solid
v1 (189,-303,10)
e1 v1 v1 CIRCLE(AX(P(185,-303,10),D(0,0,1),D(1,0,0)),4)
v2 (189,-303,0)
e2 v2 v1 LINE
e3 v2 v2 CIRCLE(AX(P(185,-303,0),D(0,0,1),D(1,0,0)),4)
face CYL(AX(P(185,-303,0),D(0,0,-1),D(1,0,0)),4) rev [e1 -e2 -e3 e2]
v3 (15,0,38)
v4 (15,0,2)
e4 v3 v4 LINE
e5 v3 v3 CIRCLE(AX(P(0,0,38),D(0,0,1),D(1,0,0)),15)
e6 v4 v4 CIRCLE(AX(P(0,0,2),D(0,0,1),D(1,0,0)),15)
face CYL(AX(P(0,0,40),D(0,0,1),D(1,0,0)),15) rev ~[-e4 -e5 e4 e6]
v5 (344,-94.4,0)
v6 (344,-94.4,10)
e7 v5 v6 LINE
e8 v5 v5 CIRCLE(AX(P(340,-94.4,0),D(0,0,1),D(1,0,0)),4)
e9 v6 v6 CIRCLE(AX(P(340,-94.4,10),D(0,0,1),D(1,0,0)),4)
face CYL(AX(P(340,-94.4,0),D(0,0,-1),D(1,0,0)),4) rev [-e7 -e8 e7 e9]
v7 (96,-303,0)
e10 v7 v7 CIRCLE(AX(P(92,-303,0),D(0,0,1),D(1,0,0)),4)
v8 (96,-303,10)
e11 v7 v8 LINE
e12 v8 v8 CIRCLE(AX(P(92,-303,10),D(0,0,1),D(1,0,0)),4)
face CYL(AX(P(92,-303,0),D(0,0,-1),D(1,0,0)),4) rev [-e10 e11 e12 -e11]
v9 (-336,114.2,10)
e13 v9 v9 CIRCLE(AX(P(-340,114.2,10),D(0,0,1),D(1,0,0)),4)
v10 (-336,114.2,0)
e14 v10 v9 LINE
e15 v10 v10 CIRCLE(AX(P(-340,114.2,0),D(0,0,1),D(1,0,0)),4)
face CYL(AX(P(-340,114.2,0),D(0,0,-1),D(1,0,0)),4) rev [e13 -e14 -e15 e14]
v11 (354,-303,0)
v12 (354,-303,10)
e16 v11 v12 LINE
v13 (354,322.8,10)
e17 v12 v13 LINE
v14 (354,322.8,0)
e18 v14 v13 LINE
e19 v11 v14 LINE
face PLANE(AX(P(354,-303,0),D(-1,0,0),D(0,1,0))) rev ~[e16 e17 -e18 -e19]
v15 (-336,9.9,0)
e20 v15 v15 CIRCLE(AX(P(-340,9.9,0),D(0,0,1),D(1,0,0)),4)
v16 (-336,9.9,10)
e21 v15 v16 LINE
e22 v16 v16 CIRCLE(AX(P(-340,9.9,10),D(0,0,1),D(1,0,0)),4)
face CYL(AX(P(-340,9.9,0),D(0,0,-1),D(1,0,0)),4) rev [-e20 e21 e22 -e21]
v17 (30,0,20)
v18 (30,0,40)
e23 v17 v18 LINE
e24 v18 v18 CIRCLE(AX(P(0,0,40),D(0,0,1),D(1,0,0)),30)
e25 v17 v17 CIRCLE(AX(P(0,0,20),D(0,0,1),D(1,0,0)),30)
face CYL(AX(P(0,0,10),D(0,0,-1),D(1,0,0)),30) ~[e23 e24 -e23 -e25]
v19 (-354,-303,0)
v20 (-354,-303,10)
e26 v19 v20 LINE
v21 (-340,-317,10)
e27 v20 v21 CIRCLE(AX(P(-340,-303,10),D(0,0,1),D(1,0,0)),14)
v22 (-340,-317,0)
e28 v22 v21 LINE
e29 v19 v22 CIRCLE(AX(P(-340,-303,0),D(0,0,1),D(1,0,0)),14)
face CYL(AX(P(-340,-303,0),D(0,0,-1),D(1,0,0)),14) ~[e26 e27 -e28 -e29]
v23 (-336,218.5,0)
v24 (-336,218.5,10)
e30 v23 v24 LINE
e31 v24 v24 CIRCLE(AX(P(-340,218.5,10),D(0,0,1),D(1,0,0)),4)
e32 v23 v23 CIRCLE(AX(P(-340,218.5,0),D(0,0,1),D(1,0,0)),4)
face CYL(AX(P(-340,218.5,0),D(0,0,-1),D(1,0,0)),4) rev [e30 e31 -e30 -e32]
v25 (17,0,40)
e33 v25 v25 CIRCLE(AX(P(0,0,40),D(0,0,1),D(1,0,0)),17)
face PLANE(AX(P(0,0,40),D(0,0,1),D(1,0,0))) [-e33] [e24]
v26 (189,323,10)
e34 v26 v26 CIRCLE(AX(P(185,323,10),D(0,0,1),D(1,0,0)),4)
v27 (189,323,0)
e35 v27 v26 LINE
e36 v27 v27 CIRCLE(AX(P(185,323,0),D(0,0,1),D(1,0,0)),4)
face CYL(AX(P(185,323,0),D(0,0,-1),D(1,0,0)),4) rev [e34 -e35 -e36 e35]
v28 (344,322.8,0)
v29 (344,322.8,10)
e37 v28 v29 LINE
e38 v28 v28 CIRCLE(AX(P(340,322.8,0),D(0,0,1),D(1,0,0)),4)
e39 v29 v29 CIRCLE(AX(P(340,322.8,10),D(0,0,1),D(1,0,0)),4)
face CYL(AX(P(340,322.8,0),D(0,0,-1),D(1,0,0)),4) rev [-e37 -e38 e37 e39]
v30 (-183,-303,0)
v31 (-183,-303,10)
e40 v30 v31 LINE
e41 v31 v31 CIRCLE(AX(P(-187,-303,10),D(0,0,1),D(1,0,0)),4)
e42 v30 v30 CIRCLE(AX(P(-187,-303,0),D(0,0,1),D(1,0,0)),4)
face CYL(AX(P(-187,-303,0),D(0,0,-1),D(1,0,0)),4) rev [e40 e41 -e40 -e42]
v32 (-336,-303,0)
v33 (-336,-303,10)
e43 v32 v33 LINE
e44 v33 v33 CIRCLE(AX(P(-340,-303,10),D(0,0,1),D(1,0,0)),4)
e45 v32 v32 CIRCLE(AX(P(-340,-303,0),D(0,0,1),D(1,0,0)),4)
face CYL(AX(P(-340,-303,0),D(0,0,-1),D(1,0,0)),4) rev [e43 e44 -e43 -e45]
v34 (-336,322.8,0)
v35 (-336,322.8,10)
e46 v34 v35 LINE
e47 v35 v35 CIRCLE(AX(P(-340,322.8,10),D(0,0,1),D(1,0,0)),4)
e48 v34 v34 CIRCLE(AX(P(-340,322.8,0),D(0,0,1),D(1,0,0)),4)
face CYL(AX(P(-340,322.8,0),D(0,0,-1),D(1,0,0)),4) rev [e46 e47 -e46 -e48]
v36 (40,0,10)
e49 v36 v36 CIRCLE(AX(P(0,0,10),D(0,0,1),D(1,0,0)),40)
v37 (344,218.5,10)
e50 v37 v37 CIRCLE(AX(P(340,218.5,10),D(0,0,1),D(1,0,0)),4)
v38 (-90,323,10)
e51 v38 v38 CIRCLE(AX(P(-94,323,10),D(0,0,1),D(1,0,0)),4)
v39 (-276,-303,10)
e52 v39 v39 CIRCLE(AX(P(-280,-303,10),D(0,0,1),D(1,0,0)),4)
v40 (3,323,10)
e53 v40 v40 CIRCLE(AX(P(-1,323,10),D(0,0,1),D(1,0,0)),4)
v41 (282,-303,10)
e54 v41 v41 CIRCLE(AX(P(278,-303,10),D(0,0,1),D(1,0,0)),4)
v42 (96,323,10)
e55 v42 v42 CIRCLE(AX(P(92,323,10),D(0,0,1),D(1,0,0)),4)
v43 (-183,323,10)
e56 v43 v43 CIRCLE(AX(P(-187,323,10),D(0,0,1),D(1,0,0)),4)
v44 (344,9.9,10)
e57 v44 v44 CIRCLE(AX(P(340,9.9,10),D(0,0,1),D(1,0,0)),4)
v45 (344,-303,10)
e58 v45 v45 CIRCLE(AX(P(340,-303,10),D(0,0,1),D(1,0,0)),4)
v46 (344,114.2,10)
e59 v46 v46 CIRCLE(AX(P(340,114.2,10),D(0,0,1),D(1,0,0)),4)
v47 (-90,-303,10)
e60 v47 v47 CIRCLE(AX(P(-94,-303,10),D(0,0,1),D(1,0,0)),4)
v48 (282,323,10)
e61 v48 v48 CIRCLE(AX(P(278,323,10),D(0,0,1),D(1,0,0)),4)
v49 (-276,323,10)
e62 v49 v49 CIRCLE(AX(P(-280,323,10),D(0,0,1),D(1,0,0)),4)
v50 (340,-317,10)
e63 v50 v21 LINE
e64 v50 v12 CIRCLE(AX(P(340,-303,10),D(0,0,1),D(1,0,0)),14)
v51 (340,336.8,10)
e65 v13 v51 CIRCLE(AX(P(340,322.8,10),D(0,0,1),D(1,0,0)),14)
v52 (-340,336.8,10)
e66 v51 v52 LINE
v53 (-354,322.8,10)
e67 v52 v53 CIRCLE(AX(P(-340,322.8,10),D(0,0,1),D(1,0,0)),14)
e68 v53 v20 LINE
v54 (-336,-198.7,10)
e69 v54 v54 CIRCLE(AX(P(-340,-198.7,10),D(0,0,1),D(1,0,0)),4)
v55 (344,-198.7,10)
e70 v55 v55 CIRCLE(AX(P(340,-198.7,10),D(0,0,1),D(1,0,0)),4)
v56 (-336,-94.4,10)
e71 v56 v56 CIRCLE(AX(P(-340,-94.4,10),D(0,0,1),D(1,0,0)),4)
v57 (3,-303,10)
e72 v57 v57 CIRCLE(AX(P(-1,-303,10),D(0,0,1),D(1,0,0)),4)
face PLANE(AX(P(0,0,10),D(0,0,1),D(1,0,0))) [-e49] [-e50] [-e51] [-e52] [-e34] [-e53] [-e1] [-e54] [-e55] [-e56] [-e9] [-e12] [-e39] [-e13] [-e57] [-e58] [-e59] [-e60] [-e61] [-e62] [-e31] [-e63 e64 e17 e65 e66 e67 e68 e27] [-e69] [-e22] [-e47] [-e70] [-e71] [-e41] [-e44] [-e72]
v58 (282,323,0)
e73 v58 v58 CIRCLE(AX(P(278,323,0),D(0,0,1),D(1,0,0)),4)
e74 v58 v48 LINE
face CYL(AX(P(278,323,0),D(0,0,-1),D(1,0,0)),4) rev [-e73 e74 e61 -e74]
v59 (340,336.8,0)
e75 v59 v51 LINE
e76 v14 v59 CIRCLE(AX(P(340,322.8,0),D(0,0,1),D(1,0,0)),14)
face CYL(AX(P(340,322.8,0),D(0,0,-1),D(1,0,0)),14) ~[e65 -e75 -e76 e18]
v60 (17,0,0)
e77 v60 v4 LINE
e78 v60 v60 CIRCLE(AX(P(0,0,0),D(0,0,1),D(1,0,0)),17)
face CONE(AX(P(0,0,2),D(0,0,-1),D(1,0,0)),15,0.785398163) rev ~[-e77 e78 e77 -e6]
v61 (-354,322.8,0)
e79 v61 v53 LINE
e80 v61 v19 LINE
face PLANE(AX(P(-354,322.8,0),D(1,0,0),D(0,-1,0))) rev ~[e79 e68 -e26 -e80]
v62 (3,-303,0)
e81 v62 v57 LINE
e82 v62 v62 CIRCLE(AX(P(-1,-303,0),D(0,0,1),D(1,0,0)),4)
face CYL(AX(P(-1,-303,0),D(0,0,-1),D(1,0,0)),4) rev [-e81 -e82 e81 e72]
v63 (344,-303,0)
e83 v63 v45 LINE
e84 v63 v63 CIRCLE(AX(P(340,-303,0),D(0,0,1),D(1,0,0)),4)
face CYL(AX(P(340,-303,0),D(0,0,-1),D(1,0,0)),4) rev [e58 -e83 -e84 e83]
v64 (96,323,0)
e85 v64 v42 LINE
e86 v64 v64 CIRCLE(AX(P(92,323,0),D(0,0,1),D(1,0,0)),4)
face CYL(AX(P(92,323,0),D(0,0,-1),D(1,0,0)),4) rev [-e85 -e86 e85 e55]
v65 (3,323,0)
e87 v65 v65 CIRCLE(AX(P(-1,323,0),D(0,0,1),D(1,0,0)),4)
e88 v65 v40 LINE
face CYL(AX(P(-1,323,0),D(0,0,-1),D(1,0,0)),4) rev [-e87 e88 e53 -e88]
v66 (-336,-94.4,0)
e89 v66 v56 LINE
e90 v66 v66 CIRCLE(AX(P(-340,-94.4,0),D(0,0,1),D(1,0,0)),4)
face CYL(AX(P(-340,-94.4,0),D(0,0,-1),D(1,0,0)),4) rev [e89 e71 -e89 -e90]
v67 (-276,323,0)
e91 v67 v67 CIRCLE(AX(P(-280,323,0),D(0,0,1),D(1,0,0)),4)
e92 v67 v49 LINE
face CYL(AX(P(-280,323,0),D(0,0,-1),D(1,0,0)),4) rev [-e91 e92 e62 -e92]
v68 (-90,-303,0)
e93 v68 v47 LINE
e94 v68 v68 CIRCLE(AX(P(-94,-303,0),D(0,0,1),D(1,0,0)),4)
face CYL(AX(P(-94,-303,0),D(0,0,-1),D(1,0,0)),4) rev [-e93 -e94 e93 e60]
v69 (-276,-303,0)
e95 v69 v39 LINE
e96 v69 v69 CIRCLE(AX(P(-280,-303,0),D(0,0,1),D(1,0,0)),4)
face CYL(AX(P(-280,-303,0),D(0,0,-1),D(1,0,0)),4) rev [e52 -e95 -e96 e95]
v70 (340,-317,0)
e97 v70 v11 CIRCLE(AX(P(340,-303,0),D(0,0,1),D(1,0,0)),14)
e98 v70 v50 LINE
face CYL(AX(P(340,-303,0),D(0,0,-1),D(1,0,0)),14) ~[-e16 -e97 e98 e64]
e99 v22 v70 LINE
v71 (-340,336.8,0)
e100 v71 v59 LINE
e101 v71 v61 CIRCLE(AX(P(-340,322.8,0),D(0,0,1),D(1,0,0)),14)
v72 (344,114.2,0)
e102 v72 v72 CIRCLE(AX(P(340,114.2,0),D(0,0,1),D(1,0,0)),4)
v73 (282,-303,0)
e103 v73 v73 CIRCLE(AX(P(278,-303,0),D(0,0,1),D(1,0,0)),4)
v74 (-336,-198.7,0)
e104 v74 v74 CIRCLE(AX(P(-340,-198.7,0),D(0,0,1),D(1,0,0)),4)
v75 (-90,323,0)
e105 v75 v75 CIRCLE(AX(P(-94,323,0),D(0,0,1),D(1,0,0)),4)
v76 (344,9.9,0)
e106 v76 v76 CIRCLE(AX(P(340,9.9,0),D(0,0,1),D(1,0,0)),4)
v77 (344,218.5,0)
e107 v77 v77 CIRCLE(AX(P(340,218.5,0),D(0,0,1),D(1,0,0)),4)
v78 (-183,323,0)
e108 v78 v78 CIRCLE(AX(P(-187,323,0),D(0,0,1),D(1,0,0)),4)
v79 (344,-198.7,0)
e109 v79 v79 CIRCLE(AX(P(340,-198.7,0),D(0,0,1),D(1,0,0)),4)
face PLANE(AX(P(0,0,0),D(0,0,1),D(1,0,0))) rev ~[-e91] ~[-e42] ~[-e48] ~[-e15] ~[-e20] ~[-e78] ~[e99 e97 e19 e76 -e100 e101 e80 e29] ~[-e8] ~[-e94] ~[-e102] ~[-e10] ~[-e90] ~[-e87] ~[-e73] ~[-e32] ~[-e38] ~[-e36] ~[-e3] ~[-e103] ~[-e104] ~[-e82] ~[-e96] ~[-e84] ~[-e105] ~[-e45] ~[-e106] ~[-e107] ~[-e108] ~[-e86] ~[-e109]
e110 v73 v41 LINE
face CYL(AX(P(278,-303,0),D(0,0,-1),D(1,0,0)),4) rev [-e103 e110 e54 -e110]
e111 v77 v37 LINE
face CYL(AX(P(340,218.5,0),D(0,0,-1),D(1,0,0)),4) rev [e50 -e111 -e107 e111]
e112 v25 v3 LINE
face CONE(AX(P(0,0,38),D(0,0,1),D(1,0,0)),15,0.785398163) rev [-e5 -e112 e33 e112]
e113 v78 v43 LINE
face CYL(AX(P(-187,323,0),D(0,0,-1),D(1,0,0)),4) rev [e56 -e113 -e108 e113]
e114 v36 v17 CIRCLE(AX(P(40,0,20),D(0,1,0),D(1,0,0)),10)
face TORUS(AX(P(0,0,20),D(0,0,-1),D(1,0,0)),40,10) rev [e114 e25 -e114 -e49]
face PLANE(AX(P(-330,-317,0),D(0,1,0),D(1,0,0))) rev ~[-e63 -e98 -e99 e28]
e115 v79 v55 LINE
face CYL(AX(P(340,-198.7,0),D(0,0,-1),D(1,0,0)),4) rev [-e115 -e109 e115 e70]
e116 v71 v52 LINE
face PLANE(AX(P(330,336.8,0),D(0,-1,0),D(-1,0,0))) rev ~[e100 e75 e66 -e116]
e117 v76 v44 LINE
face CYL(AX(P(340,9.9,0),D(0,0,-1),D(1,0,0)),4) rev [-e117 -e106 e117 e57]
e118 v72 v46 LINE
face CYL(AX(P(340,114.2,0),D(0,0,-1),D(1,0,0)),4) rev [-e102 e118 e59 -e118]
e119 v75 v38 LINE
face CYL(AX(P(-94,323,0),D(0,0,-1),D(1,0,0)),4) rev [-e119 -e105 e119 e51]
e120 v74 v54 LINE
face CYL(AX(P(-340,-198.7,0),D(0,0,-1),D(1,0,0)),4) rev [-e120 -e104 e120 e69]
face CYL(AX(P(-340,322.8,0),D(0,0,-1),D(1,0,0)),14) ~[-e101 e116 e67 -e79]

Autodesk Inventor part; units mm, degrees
ref_plane "YZ Plane" through (0, 0, 0) normal (1, 0, 0) x (0, 1, 0)
ref_plane "XZ Plane" through (0, 0, 0) normal (0, 1, 0) x (-1, 0, 0)
ref_plane "XY Plane" through (0, 0, 0) normal (0, 0, 1) x (1, 0, 0)
ref_plane "РабПлоскость1" through (0, 0, 0) normal (0, 0, 1) x (1, 0, 0)
sketch "Эскиз1" plane through (0, 0, 0) normal (0, 0, 1) x (1, 0, 0)
  circle A0 centre (340, 472) radius 4 projected
  circle A1 centre (340, 367) radius 4 projected
  circle A2 centre (340, 322.8) radius 4 projected
  circle A3 centre (340, 218.5) radius 4 projected
  circle A4 centre (340, 114.2) radius 4 projected
  circle A5 centre (340, 9.9) radius 4 projected
  circle A6 centre (340, -94.4) radius 4 projected
  circle A7 centre (340, -198.7) radius 4 projected
  circle A8 centre (340, -303) radius 4 projected
  circle A9 centre (340, -347) radius 4 projected
  circle A10 centre (340, -407) radius 4 projected
  circle A11 centre (340, -467) radius 4 projected
  circle A12 centre (278, 472) radius 4 projected
  circle A13 centre (185, 472) radius 4 projected
  circle A14 centre (92, 472) radius 4 projected
  circle A15 centre (-1, 472) radius 4 projected
  circle A16 centre (-94, 472) radius 4 projected
  circle A17 centre (-187, 472) radius 4 projected
  circle A18 centre (-280, 472) radius 4 projected
  circle A19 centre (-340, 472) radius 4 projected
  circle A20 centre (-340, 367) radius 4 projected
  circle A21 centre (-340, 322.8) radius 4 projected
  circle A22 centre (-340, 218.5) radius 4 projected
  circle A23 centre (-340, 114.2) radius 4 projected
  circle A24 centre (-340, 9.9) radius 4 projected
  circle A25 centre (-340, -94.4) radius 4 projected
  circle A26 centre (-340, -198.7) radius 4 projected
  circle A27 centre (-340, -303) radius 4 projected
  circle A28 centre (-340, -347) radius 4 projected
  circle A29 centre (-340, -407) radius 4 projected
  circle A30 centre (-340, -467) radius 4 projected
  line L0 (165, -460) -> (165, -485) projected
  line L1 (185, -485) -> (165, -485) projected
  line L2 (185, -475) -> (185, -485) projected
  line L3 (185, -475) -> (380, -475) projected
  line L4 (380, 475) -> (350, 475) projected
  line L5 (350, 475) -> (350, 485) projected
  line L6 (-350, 485) -> (350, 485) projected
  line L7 (-350, 475) -> (-350, 485) projected
  line L8 (-350, 475) -> (-380, 475) projected
  line L9 (-380, -475) -> (-185, -475) projected
  line L10 (-185, -475) -> (-185, -485) projected
  line L11 (-165, -485) -> (-185, -485) projected
  line L12 (-165, -485) -> (-165, -460) projected
  line L13 (-165, -460) -> (-330, -460) projected
  line L14 (-330, 460) -> (-330, -460) projected
  line L15 (-330, 460) -> (330, 460) projected
  line L16 (330, -460) -> (330, 460) projected
  line L17 (330, -460) -> (165, -460) projected
  circle A31 centre (278, -303) radius 4 projected
  circle A32 centre (185, -303) radius 4 projected
  circle A33 centre (92, -303) radius 4 projected
  circle A34 centre (-1, -303) radius 4 projected
  circle A35 centre (-94, -303) radius 4 projected
  circle A36 centre (-187, -303) radius 4 projected
  circle A37 centre (-280, -303) radius 4 projected
  circle A38 centre (278, -347) radius 4 projected
  circle A39 centre (185, -347) radius 4 projected
  circle A40 centre (92, -347) radius 4 projected
  circle A41 centre (-1, -347) radius 4 projected
  circle A42 centre (-94, -347) radius 4 projected
  circle A43 centre (-187, -347) radius 4 projected
  circle A44 centre (-280, -347) radius 4 projected
  line L18 (-330, -291) -> (-330, -359) projected
  line L19 (-330, -359) -> (330, -359) projected
  line L20 (330, -291) -> (330, -359) projected
  line L21 (-330, -291) -> (330, -291) projected
  circle A45 centre (278, 367) radius 4 projected
  circle A46 centre (185, 367) radius 4 projected
  circle A47 centre (92, 367) radius 4 projected
  circle A48 centre (-1, 367) radius 4 projected
  circle A49 centre (-94, 367) radius 4 projected
  circle A50 centre (-187, 367) radius 4 projected
  circle A51 centre (-280, 367) radius 4 projected
  circle A52 centre (278, 323) radius 4 projected
  circle A53 centre (185, 323) radius 4 projected
  circle A54 centre (92, 323) radius 4 projected
  circle A55 centre (-1, 323) radius 4 projected
  circle A56 centre (-94, 323) radius 4 projected
  circle A57 centre (-187, 323) radius 4 projected
  circle A58 centre (-280, 323) radius 4 projected
  line L22 (-330, 379) -> (-330, 311) projected
  line L23 (-330, 311) -> (330, 311) projected
  line L24 (330, 379) -> (330, 311) projected
  line L25 (-330, 379) -> (330, 379) projected
  circle A59 centre (-340, 322.8) radius 14
  circle A60 centre (-340, -303) radius 14
  circle A61 centre (340, -303) radius 14
  circle A62 centre (340, 322.8) radius 14
  line L26 (340, 336.8) -> (-340, 336.8)
  line L27 (-354, 322.8) -> (-354, -303)
  line L28 (-340, -317) -> (340, -317)
  line L29 (354, -303) -> (354, 322.8)
  spline S0 degree 3 poles (-370, 316.7157) (-371.226, 316.7157) (-372.452, 316.5956) (-375.5798, 315.9798) (-377.4441, 315.3011) (-379.4493, 314.2131) (-379.7267, 314.0539) (-380, 313.8881) knots 25.431649 25.431649 25.431649 25.431649 25.799448 25.799448 26.387926 26.387926 26.483827 26.483827 26.483827 26.483827 projected
  spline S1 degree 3 poles (-360, 299.3952) (-360, 300.6696) (-360.1945, 302.0462) (-360.9458, 304.7063) (-361.4997, 305.9906) (-363.0323, 308.8381) (-364.2894, 310.5672) (-367.0866, 313.808) (-368.6145, 315.3302) (-370, 316.7157) knots 0 0 0 0 0.382316 0.382316 0.764632 0.764632 1.352446 1.352446 1.94026 1.94026 1.94026 1.94026 projected
  line L30 (-360, 299.3952) -> (-360, 277.9108) projected
  spline S2 degree 3 poles (-370, 260.5903) (-368.6145, 261.9758) (-367.0866, 263.498) (-364.2894, 266.7388) (-363.0323, 268.4679) (-361.4997, 271.3154) (-360.9458, 272.5997) (-360.1945, 275.2598) (-360, 276.6364) (-360, 277.9108) knots 5.055322 5.055322 5.055322 5.055322 5.643136 5.643136 6.230951 6.230951 6.613267 6.613267 6.995583 6.995583 6.995583 6.995583 projected
  spline S3 degree 3 poles (-380, 263.2891) (-378.6731, 262.5173) (-377.2567, 261.8994) (-373.9153, 260.8819) (-371.9577, 260.5903) (-370, 260.5903) knots 11.600008 11.600008 11.600008 11.600008 12.060517 12.060517 12.64782 12.64782 12.64782 12.64782 projected
  line L31 (-380, 263.2891) -> (-380, -243.2891) projected
  spline S4 degree 3 poles (-370, -240.5903) (-371.2894, -240.5903) (-372.5789, -240.7163) (-375.8683, -241.3651) (-377.8293, -242.082) (-379.7569, -243.1494) (-379.8788, -243.2186) (-380, -243.2891) knots 12.64782 12.64782 12.64782 12.64782 13.034648 13.034648 13.653574 13.653574 13.695631 13.695631 13.695631 13.695631 projected
  spline S5 degree 3 poles (-360, -257.9108) (-360, -256.6364) (-360.1945, -255.2598) (-360.9458, -252.5997) (-361.4997, -251.3154) (-363.0323, -248.4679) (-364.2894, -246.7388) (-367.0866, -243.498) (-368.6145, -241.9758) (-370, -240.5903) knots 0 0 0 0 0.382316 0.382316 0.764632 0.764632 1.352446 1.352446 1.94026 1.94026 1.94026 1.94026 projected
  line L32 (-360, -257.9108) -> (-360, -279.3952) projected
  spline S6 degree 3 poles (-370, -296.7157) (-368.6145, -295.3302) (-367.0866, -293.808) (-364.2894, -290.5672) (-363.0323, -288.8381) (-361.4997, -285.9906) (-360.9458, -284.7063) (-360.1945, -282.0462) (-360, -280.6696) (-360, -279.3952) knots 5.055322 5.055322 5.055322 5.055322 5.643136 5.643136 6.230951 6.230951 6.613267 6.613267 6.995583 6.995583 6.995583 6.995583 projected
  spline S7 degree 3 poles (-380, -293.8881) (-379.7267, -294.0539) (-379.4493, -294.2131) (-377.4441, -295.3011) (-375.5798, -295.9798) (-372.452, -296.5956) (-371.226, -296.7157) (-370, -296.7157) knots -1.052177 -1.052177 -1.052177 -1.052177 -0.956277 -0.956277 -0.367799 -0.367799 0 0 0 0 projected
  line L33 (-380, -293.8881) -> (-380, -356.1119) projected
  spline S8 degree 3 poles (-370, -353.2843) (-371.226, -353.2843) (-372.452, -353.4044) (-375.5798, -354.0202) (-377.4441, -354.6989) (-379.4493, -355.7869) (-379.7267, -355.9461) (-380, -356.1119) knots 12.715825 12.715825 12.715825 12.715825 13.083623 13.083623 13.672101 13.672101 13.768002 13.768002 13.768002 13.768002 projected
  spline S9 degree 3 poles (-360, -370.6048) (-360, -369.3304) (-360.1945, -367.9538) (-360.9458, -365.2937) (-361.4997, -364.0094) (-363.0323, -361.1619) (-364.2894, -359.4328) (-367.0866, -356.192) (-368.6145, -354.6698) (-370, -353.2843) knots 0 0 0 0 0.382316 0.382316 0.764632 0.764632 1.352446 1.352446 1.94026 1.94026 1.94026 1.94026 projected
  line L34 (-360, -370.6048) -> (-360, -392.0892) projected
  spline S10 degree 3 poles (-370, -409.4097) (-368.6145, -408.0242) (-367.0866, -406.502) (-364.2894, -403.2612) (-363.0323, -401.5321) (-361.4997, -398.6846) (-360.9458, -397.4003) (-360.1945, -394.7402) (-360, -393.3636) (-360, -392.0892) knots 5.055322 5.055322 5.055322 5.055322 5.643136 5.643136 6.230951 6.230951 6.613267 6.613267 6.995583 6.995583 6.995583 6.995583 projected
  spline S11 degree 3 poles (-380, -406.7109) (-379.8788, -406.7814) (-379.7569, -406.8506) (-377.8293, -407.918) (-375.8683, -408.6349) (-372.5789, -409.2837) (-371.2894, -409.4097) (-370, -409.4097) knots -1.047812 -1.047812 -1.047812 -1.047812 -1.005754 -1.005754 -0.386829 -0.386829 0 0 0 0 projected
  line L35 (-380, -406.7109) -> (-380, -475) projected
  line L36 (380, -475) -> (380, -406.7109) projected
  spline S12 degree 3 poles (370, -409.4097) (371.2894, -409.4097) (372.5789, -409.2837) (375.8683, -408.6349) (377.8293, -407.918) (379.7569, -406.8506) (379.8788, -406.7814) (380, -406.7109) knots 12.64782 12.64782 12.64782 12.64782 13.034648 13.034648 13.653574 13.653574 13.695631 13.695631 13.695631 13.695631 projected
  spline S13 degree 3 poles (360, -392.0892) (360, -393.3636) (360.1945, -394.7402) (360.9458, -397.4003) (361.4997, -398.6846) (363.0323, -401.5321) (364.2894, -403.2612) (367.0866, -406.502) (368.6145, -408.0242) (370, -409.4097) knots 0 0 0 0 0.382316 0.382316 0.764632 0.764632 1.352446 1.352446 1.94026 1.94026 1.94026 1.94026 projected
  line L37 (360, -392.0892) -> (360, -370.6048) projected
  spline S14 degree 3 poles (370, -353.2843) (368.6145, -354.6698) (367.0866, -356.192) (364.2894, -359.4328) (363.0323, -361.1619) (361.4997, -364.0094) (360.9458, -365.2937) (360.1945, -367.9538) (360, -369.3304) (360, -370.6048) knots 5.055322 5.055322 5.055322 5.055322 5.643136 5.643136 6.230951 6.230951 6.613267 6.613267 6.995583 6.995583 6.995583 6.995583 projected
  spline S15 degree 3 poles (380, -356.1119) (378.2451, -355.0477) (376.3252, -354.255) (372.9103, -353.4538) (371.4552, -353.2843) (370, -353.2843) knots -1.052177 -1.052177 -1.052177 -1.052177 -0.436564 -0.436564 0 0 0 0 projected
  line L38 (380, -356.1119) -> (380, -293.8881) projected
  spline S16 degree 3 poles (370, -296.7157) (371.226, -296.7157) (372.452, -296.5956) (375.5798, -295.9798) (377.4441, -295.3011) (379.4493, -294.2131) (379.7267, -294.0539) (380, -293.8881) knots 12.715825 12.715825 12.715825 12.715825 13.083623 13.083623 13.672101 13.672101 13.768002 13.768002 13.768002 13.768002 projected
  spline S17 degree 3 poles (360, -279.3952) (360, -280.6696) (360.1945, -282.0462) (360.9458, -284.7063) (361.4997, -285.9906) (363.0323, -288.8381) (364.2894, -290.5672) (367.0866, -293.808) (368.6145, -295.3302) (370, -296.7157) knots 0 0 0 0 0.382316 0.382316 0.764632 0.764632 1.352446 1.352446 1.94026 1.94026 1.94026 1.94026 projected
  line L39 (360, -279.3952) -> (360, -257.9108) projected
  spline S18 degree 3 poles (370, -240.5903) (368.6145, -241.9758) (367.0866, -243.498) (364.2894, -246.7388) (363.0323, -248.4679) (361.4997, -251.3154) (360.9458, -252.5997) (360.1945, -255.2598) (360, -256.6364) (360, -257.9108) knots 5.055322 5.055322 5.055322 5.055322 5.643136 5.643136 6.230951 6.230951 6.613267 6.613267 6.995583 6.995583 6.995583 6.995583 projected
  spline S19 degree 3 poles (380, -243.2891) (378.6731, -242.5173) (377.2567, -241.8994) (373.9153, -240.8819) (371.9577, -240.5903) (370, -240.5903) knots 11.600008 11.600008 11.600008 11.600008 12.060517 12.060517 12.64782 12.64782 12.64782 12.64782 projected
  line L40 (380, -243.2891) -> (380, 263.2891) projected
  spline S20 degree 3 poles (370, 260.5903) (371.2894, 260.5903) (372.5789, 260.7163) (375.8683, 261.3651) (377.8293, 262.082) (379.7569, 263.1494) (379.8788, 263.2186) (380, 263.2891) knots 25.295639 25.295639 25.295639 25.295639 25.682468 25.682468 26.301393 26.301393 26.343451 26.343451 26.343451 26.343451 projected
  spline S21 degree 3 poles (360, 277.9108) (360, 276.6364) (360.1945, 275.2598) (360.9458, 272.5997) (361.4997, 271.3154) (363.0323, 268.4679) (364.2894, 266.7388) (367.0866, 263.498) (368.6145, 261.9758) (370, 260.5903) knots 0 0 0 0 0.382316 0.382316 0.764632 0.764632 1.352446 1.352446 1.94026 1.94026 1.94026 1.94026 projected
  line L41 (360, 277.9108) -> (360, 299.3952) projected
  spline S22 degree 3 poles (370, 316.7157) (368.6145, 315.3302) (367.0866, 313.808) (364.2894, 310.5672) (363.0323, 308.8381) (361.4997, 305.9906) (360.9458, 304.7063) (360.1945, 302.0462) (360, 300.6696) (360, 299.3952) knots 5.055322 5.055322 5.055322 5.055322 5.643136 5.643136 6.230951 6.230951 6.613267 6.613267 6.995583 6.995583 6.995583 6.995583 projected
  spline S23 degree 3 poles (380, 313.8881) (379.7267, 314.0539) (379.4493, 314.2131) (377.4441, 315.3011) (375.5798, 315.9798) (372.452, 316.5956) (371.226, 316.7157) (370, 316.7157) knots -1.052177 -1.052177 -1.052177 -1.052177 -0.956277 -0.956277 -0.367799 -0.367799 0 0 0 0 projected
  line L42 (380, 313.8881) -> (380, 376.1119) projected
  spline S24 degree 3 poles (370, 373.2843) (371.226, 373.2843) (372.452, 373.4044) (375.5798, 374.0202) (377.4441, 374.6989) (379.4493, 375.7869) (379.7267, 375.9461) (380, 376.1119) knots 25.431649 25.431649 25.431649 25.431649 25.799448 25.799448 26.387926 26.387926 26.483827 26.483827 26.483827 26.483827 projected
  spline S25 degree 3 poles (360, 390.6048) (360, 389.3304) (360.1945, 387.9538) (360.9458, 385.2937) (361.4997, 384.0094) (363.0323, 381.1619) (364.2894, 379.4328) (367.0866, 376.192) (368.6145, 374.6698) (370, 373.2843) knots 0 0 0 0 0.382316 0.382316 0.764632 0.764632 1.352446 1.352446 1.94026 1.94026 1.94026 1.94026 projected
  line L43 (360, 390.6048) -> (360, 412.0892) projected
  spline S26 degree 3 poles (370, 429.4097) (368.6145, 428.0242) (367.0866, 426.502) (364.2894, 423.2612) (363.0323, 421.5321) (361.4997, 418.6846) (360.9458, 417.4003) (360.1945, 414.7402) (360, 413.3636) (360, 412.0892) knots 5.055322 5.055322 5.055322 5.055322 5.643136 5.643136 6.230951 6.230951 6.613267 6.613267 6.995583 6.995583 6.995583 6.995583 projected
  spline S27 degree 3 poles (380, 426.7109) (378.6731, 427.4827) (377.2567, 428.1006) (373.9153, 429.1181) (371.9577, 429.4097) (370, 429.4097) knots -1.047812 -1.047812 -1.047812 -1.047812 -0.587302 -0.587302 0 0 0 0 projected
  line L44 (380, 426.7109) -> (380, 475) projected
  line L45 (-380, 475) -> (-380, 426.7109) projected
  spline S28 degree 3 poles (-370, 429.4097) (-371.2894, 429.4097) (-372.5789, 429.2837) (-375.8683, 428.6349) (-377.8293, 427.918) (-379.7569, 426.8506) (-379.8788, 426.7814) (-380, 426.7109) knots 12.64782 12.64782 12.64782 12.64782 13.034648 13.034648 13.653574 13.653574 13.695631 13.695631 13.695631 13.695631 projected
  spline S29 degree 3 poles (-360, 412.0892) (-360, 413.3636) (-360.1945, 414.7402) (-360.9458, 417.4003) (-361.4997, 418.6846) (-363.0323, 421.5321) (-364.2894, 423.2612) (-367.0866, 426.502) (-368.6145, 428.0242) (-370, 429.4097) knots 0 0 0 0 0.382316 0.382316 0.764632 0.764632 1.352446 1.352446 1.94026 1.94026 1.94026 1.94026 projected
  line L46 (-360, 412.0892) -> (-360, 390.6048) projected
  spline S30 degree 3 poles (-370, 373.2843) (-368.6145, 374.6698) (-367.0866, 376.192) (-364.2894, 379.4328) (-363.0323, 381.1619) (-361.4997, 384.0094) (-360.9458, 385.2937) (-360.1945, 387.9538) (-360, 389.3304) (-360, 390.6048) knots 5.055322 5.055322 5.055322 5.055322 5.643136 5.643136 6.230951 6.230951 6.613267 6.613267 6.995583 6.995583 6.995583 6.995583 projected
  spline S31 degree 3 poles (-380, 376.1119) (-379.7267, 375.9461) (-379.4493, 375.7869) (-377.4441, 374.6989) (-375.5798, 374.0202) (-372.452, 373.4044) (-371.226, 373.2843) (-370, 373.2843) knots -1.052177 -1.052177 -1.052177 -1.052177 -0.956277 -0.956277 -0.367799 -0.367799 0 0 0 0 projected
  line L47 (-380, 376.1119) -> (-380, 313.8881) projected
  point P0 (0, 0)
  dimension "d0" = 10
  dimension "d1" = 10
  dimension "d2" = 10
  dimension "d3" = 10
extrude "Выдавливание1" add sketch "Эскиз1" along normal blind 10 contours L28 L14 A60 L21 L16 A61 | L16 A61 L28 | A61 L16 | L16 A61 | L28 A60 L14 | L16 A62 L29 A61 | A60 L14 | L14 A60 | L21 L14 L23 L16 | A60 L27 A59 L14 | A62 L16 | L23 L14 A59 L26 L16 A62 | A59 L14 | A62 L16 L26 | A62 L16 | L26 L14 A59 | L14 A59
sketch "Эскиз2" plane through (0, 0, 10) normal (0, 0, 1) x (1, 0, 0)
  circle A0 centre (0, 0) radius 30
  dimension "d6" = 60
extrude "Выдавливание2" add sketch "Эскиз2" along normal blind 30
fillet "Сопряжение1" radius 10 1 edges at (-30, 0, 10)
sketch "Эскиз3" plane through (0, 0, 40) normal (0, 0, 1) x (1, 0, 0)
  circle A0 centre (0, 0) radius 15
  dimension "d10" = 30
extrude "Выдавливание3" cut sketch "Эскиз3" against normal through all
thread "Резьба1" size "M30x3.5" class "6H" standard "ANSI Metric M Profile" full length
chamfer "Фаска1" distance 2 angle 45 2 edges at (-15, 0, 40) (-15, 0, 0)
properties part number "Крышка картера 2" material "Чугун, серый"
